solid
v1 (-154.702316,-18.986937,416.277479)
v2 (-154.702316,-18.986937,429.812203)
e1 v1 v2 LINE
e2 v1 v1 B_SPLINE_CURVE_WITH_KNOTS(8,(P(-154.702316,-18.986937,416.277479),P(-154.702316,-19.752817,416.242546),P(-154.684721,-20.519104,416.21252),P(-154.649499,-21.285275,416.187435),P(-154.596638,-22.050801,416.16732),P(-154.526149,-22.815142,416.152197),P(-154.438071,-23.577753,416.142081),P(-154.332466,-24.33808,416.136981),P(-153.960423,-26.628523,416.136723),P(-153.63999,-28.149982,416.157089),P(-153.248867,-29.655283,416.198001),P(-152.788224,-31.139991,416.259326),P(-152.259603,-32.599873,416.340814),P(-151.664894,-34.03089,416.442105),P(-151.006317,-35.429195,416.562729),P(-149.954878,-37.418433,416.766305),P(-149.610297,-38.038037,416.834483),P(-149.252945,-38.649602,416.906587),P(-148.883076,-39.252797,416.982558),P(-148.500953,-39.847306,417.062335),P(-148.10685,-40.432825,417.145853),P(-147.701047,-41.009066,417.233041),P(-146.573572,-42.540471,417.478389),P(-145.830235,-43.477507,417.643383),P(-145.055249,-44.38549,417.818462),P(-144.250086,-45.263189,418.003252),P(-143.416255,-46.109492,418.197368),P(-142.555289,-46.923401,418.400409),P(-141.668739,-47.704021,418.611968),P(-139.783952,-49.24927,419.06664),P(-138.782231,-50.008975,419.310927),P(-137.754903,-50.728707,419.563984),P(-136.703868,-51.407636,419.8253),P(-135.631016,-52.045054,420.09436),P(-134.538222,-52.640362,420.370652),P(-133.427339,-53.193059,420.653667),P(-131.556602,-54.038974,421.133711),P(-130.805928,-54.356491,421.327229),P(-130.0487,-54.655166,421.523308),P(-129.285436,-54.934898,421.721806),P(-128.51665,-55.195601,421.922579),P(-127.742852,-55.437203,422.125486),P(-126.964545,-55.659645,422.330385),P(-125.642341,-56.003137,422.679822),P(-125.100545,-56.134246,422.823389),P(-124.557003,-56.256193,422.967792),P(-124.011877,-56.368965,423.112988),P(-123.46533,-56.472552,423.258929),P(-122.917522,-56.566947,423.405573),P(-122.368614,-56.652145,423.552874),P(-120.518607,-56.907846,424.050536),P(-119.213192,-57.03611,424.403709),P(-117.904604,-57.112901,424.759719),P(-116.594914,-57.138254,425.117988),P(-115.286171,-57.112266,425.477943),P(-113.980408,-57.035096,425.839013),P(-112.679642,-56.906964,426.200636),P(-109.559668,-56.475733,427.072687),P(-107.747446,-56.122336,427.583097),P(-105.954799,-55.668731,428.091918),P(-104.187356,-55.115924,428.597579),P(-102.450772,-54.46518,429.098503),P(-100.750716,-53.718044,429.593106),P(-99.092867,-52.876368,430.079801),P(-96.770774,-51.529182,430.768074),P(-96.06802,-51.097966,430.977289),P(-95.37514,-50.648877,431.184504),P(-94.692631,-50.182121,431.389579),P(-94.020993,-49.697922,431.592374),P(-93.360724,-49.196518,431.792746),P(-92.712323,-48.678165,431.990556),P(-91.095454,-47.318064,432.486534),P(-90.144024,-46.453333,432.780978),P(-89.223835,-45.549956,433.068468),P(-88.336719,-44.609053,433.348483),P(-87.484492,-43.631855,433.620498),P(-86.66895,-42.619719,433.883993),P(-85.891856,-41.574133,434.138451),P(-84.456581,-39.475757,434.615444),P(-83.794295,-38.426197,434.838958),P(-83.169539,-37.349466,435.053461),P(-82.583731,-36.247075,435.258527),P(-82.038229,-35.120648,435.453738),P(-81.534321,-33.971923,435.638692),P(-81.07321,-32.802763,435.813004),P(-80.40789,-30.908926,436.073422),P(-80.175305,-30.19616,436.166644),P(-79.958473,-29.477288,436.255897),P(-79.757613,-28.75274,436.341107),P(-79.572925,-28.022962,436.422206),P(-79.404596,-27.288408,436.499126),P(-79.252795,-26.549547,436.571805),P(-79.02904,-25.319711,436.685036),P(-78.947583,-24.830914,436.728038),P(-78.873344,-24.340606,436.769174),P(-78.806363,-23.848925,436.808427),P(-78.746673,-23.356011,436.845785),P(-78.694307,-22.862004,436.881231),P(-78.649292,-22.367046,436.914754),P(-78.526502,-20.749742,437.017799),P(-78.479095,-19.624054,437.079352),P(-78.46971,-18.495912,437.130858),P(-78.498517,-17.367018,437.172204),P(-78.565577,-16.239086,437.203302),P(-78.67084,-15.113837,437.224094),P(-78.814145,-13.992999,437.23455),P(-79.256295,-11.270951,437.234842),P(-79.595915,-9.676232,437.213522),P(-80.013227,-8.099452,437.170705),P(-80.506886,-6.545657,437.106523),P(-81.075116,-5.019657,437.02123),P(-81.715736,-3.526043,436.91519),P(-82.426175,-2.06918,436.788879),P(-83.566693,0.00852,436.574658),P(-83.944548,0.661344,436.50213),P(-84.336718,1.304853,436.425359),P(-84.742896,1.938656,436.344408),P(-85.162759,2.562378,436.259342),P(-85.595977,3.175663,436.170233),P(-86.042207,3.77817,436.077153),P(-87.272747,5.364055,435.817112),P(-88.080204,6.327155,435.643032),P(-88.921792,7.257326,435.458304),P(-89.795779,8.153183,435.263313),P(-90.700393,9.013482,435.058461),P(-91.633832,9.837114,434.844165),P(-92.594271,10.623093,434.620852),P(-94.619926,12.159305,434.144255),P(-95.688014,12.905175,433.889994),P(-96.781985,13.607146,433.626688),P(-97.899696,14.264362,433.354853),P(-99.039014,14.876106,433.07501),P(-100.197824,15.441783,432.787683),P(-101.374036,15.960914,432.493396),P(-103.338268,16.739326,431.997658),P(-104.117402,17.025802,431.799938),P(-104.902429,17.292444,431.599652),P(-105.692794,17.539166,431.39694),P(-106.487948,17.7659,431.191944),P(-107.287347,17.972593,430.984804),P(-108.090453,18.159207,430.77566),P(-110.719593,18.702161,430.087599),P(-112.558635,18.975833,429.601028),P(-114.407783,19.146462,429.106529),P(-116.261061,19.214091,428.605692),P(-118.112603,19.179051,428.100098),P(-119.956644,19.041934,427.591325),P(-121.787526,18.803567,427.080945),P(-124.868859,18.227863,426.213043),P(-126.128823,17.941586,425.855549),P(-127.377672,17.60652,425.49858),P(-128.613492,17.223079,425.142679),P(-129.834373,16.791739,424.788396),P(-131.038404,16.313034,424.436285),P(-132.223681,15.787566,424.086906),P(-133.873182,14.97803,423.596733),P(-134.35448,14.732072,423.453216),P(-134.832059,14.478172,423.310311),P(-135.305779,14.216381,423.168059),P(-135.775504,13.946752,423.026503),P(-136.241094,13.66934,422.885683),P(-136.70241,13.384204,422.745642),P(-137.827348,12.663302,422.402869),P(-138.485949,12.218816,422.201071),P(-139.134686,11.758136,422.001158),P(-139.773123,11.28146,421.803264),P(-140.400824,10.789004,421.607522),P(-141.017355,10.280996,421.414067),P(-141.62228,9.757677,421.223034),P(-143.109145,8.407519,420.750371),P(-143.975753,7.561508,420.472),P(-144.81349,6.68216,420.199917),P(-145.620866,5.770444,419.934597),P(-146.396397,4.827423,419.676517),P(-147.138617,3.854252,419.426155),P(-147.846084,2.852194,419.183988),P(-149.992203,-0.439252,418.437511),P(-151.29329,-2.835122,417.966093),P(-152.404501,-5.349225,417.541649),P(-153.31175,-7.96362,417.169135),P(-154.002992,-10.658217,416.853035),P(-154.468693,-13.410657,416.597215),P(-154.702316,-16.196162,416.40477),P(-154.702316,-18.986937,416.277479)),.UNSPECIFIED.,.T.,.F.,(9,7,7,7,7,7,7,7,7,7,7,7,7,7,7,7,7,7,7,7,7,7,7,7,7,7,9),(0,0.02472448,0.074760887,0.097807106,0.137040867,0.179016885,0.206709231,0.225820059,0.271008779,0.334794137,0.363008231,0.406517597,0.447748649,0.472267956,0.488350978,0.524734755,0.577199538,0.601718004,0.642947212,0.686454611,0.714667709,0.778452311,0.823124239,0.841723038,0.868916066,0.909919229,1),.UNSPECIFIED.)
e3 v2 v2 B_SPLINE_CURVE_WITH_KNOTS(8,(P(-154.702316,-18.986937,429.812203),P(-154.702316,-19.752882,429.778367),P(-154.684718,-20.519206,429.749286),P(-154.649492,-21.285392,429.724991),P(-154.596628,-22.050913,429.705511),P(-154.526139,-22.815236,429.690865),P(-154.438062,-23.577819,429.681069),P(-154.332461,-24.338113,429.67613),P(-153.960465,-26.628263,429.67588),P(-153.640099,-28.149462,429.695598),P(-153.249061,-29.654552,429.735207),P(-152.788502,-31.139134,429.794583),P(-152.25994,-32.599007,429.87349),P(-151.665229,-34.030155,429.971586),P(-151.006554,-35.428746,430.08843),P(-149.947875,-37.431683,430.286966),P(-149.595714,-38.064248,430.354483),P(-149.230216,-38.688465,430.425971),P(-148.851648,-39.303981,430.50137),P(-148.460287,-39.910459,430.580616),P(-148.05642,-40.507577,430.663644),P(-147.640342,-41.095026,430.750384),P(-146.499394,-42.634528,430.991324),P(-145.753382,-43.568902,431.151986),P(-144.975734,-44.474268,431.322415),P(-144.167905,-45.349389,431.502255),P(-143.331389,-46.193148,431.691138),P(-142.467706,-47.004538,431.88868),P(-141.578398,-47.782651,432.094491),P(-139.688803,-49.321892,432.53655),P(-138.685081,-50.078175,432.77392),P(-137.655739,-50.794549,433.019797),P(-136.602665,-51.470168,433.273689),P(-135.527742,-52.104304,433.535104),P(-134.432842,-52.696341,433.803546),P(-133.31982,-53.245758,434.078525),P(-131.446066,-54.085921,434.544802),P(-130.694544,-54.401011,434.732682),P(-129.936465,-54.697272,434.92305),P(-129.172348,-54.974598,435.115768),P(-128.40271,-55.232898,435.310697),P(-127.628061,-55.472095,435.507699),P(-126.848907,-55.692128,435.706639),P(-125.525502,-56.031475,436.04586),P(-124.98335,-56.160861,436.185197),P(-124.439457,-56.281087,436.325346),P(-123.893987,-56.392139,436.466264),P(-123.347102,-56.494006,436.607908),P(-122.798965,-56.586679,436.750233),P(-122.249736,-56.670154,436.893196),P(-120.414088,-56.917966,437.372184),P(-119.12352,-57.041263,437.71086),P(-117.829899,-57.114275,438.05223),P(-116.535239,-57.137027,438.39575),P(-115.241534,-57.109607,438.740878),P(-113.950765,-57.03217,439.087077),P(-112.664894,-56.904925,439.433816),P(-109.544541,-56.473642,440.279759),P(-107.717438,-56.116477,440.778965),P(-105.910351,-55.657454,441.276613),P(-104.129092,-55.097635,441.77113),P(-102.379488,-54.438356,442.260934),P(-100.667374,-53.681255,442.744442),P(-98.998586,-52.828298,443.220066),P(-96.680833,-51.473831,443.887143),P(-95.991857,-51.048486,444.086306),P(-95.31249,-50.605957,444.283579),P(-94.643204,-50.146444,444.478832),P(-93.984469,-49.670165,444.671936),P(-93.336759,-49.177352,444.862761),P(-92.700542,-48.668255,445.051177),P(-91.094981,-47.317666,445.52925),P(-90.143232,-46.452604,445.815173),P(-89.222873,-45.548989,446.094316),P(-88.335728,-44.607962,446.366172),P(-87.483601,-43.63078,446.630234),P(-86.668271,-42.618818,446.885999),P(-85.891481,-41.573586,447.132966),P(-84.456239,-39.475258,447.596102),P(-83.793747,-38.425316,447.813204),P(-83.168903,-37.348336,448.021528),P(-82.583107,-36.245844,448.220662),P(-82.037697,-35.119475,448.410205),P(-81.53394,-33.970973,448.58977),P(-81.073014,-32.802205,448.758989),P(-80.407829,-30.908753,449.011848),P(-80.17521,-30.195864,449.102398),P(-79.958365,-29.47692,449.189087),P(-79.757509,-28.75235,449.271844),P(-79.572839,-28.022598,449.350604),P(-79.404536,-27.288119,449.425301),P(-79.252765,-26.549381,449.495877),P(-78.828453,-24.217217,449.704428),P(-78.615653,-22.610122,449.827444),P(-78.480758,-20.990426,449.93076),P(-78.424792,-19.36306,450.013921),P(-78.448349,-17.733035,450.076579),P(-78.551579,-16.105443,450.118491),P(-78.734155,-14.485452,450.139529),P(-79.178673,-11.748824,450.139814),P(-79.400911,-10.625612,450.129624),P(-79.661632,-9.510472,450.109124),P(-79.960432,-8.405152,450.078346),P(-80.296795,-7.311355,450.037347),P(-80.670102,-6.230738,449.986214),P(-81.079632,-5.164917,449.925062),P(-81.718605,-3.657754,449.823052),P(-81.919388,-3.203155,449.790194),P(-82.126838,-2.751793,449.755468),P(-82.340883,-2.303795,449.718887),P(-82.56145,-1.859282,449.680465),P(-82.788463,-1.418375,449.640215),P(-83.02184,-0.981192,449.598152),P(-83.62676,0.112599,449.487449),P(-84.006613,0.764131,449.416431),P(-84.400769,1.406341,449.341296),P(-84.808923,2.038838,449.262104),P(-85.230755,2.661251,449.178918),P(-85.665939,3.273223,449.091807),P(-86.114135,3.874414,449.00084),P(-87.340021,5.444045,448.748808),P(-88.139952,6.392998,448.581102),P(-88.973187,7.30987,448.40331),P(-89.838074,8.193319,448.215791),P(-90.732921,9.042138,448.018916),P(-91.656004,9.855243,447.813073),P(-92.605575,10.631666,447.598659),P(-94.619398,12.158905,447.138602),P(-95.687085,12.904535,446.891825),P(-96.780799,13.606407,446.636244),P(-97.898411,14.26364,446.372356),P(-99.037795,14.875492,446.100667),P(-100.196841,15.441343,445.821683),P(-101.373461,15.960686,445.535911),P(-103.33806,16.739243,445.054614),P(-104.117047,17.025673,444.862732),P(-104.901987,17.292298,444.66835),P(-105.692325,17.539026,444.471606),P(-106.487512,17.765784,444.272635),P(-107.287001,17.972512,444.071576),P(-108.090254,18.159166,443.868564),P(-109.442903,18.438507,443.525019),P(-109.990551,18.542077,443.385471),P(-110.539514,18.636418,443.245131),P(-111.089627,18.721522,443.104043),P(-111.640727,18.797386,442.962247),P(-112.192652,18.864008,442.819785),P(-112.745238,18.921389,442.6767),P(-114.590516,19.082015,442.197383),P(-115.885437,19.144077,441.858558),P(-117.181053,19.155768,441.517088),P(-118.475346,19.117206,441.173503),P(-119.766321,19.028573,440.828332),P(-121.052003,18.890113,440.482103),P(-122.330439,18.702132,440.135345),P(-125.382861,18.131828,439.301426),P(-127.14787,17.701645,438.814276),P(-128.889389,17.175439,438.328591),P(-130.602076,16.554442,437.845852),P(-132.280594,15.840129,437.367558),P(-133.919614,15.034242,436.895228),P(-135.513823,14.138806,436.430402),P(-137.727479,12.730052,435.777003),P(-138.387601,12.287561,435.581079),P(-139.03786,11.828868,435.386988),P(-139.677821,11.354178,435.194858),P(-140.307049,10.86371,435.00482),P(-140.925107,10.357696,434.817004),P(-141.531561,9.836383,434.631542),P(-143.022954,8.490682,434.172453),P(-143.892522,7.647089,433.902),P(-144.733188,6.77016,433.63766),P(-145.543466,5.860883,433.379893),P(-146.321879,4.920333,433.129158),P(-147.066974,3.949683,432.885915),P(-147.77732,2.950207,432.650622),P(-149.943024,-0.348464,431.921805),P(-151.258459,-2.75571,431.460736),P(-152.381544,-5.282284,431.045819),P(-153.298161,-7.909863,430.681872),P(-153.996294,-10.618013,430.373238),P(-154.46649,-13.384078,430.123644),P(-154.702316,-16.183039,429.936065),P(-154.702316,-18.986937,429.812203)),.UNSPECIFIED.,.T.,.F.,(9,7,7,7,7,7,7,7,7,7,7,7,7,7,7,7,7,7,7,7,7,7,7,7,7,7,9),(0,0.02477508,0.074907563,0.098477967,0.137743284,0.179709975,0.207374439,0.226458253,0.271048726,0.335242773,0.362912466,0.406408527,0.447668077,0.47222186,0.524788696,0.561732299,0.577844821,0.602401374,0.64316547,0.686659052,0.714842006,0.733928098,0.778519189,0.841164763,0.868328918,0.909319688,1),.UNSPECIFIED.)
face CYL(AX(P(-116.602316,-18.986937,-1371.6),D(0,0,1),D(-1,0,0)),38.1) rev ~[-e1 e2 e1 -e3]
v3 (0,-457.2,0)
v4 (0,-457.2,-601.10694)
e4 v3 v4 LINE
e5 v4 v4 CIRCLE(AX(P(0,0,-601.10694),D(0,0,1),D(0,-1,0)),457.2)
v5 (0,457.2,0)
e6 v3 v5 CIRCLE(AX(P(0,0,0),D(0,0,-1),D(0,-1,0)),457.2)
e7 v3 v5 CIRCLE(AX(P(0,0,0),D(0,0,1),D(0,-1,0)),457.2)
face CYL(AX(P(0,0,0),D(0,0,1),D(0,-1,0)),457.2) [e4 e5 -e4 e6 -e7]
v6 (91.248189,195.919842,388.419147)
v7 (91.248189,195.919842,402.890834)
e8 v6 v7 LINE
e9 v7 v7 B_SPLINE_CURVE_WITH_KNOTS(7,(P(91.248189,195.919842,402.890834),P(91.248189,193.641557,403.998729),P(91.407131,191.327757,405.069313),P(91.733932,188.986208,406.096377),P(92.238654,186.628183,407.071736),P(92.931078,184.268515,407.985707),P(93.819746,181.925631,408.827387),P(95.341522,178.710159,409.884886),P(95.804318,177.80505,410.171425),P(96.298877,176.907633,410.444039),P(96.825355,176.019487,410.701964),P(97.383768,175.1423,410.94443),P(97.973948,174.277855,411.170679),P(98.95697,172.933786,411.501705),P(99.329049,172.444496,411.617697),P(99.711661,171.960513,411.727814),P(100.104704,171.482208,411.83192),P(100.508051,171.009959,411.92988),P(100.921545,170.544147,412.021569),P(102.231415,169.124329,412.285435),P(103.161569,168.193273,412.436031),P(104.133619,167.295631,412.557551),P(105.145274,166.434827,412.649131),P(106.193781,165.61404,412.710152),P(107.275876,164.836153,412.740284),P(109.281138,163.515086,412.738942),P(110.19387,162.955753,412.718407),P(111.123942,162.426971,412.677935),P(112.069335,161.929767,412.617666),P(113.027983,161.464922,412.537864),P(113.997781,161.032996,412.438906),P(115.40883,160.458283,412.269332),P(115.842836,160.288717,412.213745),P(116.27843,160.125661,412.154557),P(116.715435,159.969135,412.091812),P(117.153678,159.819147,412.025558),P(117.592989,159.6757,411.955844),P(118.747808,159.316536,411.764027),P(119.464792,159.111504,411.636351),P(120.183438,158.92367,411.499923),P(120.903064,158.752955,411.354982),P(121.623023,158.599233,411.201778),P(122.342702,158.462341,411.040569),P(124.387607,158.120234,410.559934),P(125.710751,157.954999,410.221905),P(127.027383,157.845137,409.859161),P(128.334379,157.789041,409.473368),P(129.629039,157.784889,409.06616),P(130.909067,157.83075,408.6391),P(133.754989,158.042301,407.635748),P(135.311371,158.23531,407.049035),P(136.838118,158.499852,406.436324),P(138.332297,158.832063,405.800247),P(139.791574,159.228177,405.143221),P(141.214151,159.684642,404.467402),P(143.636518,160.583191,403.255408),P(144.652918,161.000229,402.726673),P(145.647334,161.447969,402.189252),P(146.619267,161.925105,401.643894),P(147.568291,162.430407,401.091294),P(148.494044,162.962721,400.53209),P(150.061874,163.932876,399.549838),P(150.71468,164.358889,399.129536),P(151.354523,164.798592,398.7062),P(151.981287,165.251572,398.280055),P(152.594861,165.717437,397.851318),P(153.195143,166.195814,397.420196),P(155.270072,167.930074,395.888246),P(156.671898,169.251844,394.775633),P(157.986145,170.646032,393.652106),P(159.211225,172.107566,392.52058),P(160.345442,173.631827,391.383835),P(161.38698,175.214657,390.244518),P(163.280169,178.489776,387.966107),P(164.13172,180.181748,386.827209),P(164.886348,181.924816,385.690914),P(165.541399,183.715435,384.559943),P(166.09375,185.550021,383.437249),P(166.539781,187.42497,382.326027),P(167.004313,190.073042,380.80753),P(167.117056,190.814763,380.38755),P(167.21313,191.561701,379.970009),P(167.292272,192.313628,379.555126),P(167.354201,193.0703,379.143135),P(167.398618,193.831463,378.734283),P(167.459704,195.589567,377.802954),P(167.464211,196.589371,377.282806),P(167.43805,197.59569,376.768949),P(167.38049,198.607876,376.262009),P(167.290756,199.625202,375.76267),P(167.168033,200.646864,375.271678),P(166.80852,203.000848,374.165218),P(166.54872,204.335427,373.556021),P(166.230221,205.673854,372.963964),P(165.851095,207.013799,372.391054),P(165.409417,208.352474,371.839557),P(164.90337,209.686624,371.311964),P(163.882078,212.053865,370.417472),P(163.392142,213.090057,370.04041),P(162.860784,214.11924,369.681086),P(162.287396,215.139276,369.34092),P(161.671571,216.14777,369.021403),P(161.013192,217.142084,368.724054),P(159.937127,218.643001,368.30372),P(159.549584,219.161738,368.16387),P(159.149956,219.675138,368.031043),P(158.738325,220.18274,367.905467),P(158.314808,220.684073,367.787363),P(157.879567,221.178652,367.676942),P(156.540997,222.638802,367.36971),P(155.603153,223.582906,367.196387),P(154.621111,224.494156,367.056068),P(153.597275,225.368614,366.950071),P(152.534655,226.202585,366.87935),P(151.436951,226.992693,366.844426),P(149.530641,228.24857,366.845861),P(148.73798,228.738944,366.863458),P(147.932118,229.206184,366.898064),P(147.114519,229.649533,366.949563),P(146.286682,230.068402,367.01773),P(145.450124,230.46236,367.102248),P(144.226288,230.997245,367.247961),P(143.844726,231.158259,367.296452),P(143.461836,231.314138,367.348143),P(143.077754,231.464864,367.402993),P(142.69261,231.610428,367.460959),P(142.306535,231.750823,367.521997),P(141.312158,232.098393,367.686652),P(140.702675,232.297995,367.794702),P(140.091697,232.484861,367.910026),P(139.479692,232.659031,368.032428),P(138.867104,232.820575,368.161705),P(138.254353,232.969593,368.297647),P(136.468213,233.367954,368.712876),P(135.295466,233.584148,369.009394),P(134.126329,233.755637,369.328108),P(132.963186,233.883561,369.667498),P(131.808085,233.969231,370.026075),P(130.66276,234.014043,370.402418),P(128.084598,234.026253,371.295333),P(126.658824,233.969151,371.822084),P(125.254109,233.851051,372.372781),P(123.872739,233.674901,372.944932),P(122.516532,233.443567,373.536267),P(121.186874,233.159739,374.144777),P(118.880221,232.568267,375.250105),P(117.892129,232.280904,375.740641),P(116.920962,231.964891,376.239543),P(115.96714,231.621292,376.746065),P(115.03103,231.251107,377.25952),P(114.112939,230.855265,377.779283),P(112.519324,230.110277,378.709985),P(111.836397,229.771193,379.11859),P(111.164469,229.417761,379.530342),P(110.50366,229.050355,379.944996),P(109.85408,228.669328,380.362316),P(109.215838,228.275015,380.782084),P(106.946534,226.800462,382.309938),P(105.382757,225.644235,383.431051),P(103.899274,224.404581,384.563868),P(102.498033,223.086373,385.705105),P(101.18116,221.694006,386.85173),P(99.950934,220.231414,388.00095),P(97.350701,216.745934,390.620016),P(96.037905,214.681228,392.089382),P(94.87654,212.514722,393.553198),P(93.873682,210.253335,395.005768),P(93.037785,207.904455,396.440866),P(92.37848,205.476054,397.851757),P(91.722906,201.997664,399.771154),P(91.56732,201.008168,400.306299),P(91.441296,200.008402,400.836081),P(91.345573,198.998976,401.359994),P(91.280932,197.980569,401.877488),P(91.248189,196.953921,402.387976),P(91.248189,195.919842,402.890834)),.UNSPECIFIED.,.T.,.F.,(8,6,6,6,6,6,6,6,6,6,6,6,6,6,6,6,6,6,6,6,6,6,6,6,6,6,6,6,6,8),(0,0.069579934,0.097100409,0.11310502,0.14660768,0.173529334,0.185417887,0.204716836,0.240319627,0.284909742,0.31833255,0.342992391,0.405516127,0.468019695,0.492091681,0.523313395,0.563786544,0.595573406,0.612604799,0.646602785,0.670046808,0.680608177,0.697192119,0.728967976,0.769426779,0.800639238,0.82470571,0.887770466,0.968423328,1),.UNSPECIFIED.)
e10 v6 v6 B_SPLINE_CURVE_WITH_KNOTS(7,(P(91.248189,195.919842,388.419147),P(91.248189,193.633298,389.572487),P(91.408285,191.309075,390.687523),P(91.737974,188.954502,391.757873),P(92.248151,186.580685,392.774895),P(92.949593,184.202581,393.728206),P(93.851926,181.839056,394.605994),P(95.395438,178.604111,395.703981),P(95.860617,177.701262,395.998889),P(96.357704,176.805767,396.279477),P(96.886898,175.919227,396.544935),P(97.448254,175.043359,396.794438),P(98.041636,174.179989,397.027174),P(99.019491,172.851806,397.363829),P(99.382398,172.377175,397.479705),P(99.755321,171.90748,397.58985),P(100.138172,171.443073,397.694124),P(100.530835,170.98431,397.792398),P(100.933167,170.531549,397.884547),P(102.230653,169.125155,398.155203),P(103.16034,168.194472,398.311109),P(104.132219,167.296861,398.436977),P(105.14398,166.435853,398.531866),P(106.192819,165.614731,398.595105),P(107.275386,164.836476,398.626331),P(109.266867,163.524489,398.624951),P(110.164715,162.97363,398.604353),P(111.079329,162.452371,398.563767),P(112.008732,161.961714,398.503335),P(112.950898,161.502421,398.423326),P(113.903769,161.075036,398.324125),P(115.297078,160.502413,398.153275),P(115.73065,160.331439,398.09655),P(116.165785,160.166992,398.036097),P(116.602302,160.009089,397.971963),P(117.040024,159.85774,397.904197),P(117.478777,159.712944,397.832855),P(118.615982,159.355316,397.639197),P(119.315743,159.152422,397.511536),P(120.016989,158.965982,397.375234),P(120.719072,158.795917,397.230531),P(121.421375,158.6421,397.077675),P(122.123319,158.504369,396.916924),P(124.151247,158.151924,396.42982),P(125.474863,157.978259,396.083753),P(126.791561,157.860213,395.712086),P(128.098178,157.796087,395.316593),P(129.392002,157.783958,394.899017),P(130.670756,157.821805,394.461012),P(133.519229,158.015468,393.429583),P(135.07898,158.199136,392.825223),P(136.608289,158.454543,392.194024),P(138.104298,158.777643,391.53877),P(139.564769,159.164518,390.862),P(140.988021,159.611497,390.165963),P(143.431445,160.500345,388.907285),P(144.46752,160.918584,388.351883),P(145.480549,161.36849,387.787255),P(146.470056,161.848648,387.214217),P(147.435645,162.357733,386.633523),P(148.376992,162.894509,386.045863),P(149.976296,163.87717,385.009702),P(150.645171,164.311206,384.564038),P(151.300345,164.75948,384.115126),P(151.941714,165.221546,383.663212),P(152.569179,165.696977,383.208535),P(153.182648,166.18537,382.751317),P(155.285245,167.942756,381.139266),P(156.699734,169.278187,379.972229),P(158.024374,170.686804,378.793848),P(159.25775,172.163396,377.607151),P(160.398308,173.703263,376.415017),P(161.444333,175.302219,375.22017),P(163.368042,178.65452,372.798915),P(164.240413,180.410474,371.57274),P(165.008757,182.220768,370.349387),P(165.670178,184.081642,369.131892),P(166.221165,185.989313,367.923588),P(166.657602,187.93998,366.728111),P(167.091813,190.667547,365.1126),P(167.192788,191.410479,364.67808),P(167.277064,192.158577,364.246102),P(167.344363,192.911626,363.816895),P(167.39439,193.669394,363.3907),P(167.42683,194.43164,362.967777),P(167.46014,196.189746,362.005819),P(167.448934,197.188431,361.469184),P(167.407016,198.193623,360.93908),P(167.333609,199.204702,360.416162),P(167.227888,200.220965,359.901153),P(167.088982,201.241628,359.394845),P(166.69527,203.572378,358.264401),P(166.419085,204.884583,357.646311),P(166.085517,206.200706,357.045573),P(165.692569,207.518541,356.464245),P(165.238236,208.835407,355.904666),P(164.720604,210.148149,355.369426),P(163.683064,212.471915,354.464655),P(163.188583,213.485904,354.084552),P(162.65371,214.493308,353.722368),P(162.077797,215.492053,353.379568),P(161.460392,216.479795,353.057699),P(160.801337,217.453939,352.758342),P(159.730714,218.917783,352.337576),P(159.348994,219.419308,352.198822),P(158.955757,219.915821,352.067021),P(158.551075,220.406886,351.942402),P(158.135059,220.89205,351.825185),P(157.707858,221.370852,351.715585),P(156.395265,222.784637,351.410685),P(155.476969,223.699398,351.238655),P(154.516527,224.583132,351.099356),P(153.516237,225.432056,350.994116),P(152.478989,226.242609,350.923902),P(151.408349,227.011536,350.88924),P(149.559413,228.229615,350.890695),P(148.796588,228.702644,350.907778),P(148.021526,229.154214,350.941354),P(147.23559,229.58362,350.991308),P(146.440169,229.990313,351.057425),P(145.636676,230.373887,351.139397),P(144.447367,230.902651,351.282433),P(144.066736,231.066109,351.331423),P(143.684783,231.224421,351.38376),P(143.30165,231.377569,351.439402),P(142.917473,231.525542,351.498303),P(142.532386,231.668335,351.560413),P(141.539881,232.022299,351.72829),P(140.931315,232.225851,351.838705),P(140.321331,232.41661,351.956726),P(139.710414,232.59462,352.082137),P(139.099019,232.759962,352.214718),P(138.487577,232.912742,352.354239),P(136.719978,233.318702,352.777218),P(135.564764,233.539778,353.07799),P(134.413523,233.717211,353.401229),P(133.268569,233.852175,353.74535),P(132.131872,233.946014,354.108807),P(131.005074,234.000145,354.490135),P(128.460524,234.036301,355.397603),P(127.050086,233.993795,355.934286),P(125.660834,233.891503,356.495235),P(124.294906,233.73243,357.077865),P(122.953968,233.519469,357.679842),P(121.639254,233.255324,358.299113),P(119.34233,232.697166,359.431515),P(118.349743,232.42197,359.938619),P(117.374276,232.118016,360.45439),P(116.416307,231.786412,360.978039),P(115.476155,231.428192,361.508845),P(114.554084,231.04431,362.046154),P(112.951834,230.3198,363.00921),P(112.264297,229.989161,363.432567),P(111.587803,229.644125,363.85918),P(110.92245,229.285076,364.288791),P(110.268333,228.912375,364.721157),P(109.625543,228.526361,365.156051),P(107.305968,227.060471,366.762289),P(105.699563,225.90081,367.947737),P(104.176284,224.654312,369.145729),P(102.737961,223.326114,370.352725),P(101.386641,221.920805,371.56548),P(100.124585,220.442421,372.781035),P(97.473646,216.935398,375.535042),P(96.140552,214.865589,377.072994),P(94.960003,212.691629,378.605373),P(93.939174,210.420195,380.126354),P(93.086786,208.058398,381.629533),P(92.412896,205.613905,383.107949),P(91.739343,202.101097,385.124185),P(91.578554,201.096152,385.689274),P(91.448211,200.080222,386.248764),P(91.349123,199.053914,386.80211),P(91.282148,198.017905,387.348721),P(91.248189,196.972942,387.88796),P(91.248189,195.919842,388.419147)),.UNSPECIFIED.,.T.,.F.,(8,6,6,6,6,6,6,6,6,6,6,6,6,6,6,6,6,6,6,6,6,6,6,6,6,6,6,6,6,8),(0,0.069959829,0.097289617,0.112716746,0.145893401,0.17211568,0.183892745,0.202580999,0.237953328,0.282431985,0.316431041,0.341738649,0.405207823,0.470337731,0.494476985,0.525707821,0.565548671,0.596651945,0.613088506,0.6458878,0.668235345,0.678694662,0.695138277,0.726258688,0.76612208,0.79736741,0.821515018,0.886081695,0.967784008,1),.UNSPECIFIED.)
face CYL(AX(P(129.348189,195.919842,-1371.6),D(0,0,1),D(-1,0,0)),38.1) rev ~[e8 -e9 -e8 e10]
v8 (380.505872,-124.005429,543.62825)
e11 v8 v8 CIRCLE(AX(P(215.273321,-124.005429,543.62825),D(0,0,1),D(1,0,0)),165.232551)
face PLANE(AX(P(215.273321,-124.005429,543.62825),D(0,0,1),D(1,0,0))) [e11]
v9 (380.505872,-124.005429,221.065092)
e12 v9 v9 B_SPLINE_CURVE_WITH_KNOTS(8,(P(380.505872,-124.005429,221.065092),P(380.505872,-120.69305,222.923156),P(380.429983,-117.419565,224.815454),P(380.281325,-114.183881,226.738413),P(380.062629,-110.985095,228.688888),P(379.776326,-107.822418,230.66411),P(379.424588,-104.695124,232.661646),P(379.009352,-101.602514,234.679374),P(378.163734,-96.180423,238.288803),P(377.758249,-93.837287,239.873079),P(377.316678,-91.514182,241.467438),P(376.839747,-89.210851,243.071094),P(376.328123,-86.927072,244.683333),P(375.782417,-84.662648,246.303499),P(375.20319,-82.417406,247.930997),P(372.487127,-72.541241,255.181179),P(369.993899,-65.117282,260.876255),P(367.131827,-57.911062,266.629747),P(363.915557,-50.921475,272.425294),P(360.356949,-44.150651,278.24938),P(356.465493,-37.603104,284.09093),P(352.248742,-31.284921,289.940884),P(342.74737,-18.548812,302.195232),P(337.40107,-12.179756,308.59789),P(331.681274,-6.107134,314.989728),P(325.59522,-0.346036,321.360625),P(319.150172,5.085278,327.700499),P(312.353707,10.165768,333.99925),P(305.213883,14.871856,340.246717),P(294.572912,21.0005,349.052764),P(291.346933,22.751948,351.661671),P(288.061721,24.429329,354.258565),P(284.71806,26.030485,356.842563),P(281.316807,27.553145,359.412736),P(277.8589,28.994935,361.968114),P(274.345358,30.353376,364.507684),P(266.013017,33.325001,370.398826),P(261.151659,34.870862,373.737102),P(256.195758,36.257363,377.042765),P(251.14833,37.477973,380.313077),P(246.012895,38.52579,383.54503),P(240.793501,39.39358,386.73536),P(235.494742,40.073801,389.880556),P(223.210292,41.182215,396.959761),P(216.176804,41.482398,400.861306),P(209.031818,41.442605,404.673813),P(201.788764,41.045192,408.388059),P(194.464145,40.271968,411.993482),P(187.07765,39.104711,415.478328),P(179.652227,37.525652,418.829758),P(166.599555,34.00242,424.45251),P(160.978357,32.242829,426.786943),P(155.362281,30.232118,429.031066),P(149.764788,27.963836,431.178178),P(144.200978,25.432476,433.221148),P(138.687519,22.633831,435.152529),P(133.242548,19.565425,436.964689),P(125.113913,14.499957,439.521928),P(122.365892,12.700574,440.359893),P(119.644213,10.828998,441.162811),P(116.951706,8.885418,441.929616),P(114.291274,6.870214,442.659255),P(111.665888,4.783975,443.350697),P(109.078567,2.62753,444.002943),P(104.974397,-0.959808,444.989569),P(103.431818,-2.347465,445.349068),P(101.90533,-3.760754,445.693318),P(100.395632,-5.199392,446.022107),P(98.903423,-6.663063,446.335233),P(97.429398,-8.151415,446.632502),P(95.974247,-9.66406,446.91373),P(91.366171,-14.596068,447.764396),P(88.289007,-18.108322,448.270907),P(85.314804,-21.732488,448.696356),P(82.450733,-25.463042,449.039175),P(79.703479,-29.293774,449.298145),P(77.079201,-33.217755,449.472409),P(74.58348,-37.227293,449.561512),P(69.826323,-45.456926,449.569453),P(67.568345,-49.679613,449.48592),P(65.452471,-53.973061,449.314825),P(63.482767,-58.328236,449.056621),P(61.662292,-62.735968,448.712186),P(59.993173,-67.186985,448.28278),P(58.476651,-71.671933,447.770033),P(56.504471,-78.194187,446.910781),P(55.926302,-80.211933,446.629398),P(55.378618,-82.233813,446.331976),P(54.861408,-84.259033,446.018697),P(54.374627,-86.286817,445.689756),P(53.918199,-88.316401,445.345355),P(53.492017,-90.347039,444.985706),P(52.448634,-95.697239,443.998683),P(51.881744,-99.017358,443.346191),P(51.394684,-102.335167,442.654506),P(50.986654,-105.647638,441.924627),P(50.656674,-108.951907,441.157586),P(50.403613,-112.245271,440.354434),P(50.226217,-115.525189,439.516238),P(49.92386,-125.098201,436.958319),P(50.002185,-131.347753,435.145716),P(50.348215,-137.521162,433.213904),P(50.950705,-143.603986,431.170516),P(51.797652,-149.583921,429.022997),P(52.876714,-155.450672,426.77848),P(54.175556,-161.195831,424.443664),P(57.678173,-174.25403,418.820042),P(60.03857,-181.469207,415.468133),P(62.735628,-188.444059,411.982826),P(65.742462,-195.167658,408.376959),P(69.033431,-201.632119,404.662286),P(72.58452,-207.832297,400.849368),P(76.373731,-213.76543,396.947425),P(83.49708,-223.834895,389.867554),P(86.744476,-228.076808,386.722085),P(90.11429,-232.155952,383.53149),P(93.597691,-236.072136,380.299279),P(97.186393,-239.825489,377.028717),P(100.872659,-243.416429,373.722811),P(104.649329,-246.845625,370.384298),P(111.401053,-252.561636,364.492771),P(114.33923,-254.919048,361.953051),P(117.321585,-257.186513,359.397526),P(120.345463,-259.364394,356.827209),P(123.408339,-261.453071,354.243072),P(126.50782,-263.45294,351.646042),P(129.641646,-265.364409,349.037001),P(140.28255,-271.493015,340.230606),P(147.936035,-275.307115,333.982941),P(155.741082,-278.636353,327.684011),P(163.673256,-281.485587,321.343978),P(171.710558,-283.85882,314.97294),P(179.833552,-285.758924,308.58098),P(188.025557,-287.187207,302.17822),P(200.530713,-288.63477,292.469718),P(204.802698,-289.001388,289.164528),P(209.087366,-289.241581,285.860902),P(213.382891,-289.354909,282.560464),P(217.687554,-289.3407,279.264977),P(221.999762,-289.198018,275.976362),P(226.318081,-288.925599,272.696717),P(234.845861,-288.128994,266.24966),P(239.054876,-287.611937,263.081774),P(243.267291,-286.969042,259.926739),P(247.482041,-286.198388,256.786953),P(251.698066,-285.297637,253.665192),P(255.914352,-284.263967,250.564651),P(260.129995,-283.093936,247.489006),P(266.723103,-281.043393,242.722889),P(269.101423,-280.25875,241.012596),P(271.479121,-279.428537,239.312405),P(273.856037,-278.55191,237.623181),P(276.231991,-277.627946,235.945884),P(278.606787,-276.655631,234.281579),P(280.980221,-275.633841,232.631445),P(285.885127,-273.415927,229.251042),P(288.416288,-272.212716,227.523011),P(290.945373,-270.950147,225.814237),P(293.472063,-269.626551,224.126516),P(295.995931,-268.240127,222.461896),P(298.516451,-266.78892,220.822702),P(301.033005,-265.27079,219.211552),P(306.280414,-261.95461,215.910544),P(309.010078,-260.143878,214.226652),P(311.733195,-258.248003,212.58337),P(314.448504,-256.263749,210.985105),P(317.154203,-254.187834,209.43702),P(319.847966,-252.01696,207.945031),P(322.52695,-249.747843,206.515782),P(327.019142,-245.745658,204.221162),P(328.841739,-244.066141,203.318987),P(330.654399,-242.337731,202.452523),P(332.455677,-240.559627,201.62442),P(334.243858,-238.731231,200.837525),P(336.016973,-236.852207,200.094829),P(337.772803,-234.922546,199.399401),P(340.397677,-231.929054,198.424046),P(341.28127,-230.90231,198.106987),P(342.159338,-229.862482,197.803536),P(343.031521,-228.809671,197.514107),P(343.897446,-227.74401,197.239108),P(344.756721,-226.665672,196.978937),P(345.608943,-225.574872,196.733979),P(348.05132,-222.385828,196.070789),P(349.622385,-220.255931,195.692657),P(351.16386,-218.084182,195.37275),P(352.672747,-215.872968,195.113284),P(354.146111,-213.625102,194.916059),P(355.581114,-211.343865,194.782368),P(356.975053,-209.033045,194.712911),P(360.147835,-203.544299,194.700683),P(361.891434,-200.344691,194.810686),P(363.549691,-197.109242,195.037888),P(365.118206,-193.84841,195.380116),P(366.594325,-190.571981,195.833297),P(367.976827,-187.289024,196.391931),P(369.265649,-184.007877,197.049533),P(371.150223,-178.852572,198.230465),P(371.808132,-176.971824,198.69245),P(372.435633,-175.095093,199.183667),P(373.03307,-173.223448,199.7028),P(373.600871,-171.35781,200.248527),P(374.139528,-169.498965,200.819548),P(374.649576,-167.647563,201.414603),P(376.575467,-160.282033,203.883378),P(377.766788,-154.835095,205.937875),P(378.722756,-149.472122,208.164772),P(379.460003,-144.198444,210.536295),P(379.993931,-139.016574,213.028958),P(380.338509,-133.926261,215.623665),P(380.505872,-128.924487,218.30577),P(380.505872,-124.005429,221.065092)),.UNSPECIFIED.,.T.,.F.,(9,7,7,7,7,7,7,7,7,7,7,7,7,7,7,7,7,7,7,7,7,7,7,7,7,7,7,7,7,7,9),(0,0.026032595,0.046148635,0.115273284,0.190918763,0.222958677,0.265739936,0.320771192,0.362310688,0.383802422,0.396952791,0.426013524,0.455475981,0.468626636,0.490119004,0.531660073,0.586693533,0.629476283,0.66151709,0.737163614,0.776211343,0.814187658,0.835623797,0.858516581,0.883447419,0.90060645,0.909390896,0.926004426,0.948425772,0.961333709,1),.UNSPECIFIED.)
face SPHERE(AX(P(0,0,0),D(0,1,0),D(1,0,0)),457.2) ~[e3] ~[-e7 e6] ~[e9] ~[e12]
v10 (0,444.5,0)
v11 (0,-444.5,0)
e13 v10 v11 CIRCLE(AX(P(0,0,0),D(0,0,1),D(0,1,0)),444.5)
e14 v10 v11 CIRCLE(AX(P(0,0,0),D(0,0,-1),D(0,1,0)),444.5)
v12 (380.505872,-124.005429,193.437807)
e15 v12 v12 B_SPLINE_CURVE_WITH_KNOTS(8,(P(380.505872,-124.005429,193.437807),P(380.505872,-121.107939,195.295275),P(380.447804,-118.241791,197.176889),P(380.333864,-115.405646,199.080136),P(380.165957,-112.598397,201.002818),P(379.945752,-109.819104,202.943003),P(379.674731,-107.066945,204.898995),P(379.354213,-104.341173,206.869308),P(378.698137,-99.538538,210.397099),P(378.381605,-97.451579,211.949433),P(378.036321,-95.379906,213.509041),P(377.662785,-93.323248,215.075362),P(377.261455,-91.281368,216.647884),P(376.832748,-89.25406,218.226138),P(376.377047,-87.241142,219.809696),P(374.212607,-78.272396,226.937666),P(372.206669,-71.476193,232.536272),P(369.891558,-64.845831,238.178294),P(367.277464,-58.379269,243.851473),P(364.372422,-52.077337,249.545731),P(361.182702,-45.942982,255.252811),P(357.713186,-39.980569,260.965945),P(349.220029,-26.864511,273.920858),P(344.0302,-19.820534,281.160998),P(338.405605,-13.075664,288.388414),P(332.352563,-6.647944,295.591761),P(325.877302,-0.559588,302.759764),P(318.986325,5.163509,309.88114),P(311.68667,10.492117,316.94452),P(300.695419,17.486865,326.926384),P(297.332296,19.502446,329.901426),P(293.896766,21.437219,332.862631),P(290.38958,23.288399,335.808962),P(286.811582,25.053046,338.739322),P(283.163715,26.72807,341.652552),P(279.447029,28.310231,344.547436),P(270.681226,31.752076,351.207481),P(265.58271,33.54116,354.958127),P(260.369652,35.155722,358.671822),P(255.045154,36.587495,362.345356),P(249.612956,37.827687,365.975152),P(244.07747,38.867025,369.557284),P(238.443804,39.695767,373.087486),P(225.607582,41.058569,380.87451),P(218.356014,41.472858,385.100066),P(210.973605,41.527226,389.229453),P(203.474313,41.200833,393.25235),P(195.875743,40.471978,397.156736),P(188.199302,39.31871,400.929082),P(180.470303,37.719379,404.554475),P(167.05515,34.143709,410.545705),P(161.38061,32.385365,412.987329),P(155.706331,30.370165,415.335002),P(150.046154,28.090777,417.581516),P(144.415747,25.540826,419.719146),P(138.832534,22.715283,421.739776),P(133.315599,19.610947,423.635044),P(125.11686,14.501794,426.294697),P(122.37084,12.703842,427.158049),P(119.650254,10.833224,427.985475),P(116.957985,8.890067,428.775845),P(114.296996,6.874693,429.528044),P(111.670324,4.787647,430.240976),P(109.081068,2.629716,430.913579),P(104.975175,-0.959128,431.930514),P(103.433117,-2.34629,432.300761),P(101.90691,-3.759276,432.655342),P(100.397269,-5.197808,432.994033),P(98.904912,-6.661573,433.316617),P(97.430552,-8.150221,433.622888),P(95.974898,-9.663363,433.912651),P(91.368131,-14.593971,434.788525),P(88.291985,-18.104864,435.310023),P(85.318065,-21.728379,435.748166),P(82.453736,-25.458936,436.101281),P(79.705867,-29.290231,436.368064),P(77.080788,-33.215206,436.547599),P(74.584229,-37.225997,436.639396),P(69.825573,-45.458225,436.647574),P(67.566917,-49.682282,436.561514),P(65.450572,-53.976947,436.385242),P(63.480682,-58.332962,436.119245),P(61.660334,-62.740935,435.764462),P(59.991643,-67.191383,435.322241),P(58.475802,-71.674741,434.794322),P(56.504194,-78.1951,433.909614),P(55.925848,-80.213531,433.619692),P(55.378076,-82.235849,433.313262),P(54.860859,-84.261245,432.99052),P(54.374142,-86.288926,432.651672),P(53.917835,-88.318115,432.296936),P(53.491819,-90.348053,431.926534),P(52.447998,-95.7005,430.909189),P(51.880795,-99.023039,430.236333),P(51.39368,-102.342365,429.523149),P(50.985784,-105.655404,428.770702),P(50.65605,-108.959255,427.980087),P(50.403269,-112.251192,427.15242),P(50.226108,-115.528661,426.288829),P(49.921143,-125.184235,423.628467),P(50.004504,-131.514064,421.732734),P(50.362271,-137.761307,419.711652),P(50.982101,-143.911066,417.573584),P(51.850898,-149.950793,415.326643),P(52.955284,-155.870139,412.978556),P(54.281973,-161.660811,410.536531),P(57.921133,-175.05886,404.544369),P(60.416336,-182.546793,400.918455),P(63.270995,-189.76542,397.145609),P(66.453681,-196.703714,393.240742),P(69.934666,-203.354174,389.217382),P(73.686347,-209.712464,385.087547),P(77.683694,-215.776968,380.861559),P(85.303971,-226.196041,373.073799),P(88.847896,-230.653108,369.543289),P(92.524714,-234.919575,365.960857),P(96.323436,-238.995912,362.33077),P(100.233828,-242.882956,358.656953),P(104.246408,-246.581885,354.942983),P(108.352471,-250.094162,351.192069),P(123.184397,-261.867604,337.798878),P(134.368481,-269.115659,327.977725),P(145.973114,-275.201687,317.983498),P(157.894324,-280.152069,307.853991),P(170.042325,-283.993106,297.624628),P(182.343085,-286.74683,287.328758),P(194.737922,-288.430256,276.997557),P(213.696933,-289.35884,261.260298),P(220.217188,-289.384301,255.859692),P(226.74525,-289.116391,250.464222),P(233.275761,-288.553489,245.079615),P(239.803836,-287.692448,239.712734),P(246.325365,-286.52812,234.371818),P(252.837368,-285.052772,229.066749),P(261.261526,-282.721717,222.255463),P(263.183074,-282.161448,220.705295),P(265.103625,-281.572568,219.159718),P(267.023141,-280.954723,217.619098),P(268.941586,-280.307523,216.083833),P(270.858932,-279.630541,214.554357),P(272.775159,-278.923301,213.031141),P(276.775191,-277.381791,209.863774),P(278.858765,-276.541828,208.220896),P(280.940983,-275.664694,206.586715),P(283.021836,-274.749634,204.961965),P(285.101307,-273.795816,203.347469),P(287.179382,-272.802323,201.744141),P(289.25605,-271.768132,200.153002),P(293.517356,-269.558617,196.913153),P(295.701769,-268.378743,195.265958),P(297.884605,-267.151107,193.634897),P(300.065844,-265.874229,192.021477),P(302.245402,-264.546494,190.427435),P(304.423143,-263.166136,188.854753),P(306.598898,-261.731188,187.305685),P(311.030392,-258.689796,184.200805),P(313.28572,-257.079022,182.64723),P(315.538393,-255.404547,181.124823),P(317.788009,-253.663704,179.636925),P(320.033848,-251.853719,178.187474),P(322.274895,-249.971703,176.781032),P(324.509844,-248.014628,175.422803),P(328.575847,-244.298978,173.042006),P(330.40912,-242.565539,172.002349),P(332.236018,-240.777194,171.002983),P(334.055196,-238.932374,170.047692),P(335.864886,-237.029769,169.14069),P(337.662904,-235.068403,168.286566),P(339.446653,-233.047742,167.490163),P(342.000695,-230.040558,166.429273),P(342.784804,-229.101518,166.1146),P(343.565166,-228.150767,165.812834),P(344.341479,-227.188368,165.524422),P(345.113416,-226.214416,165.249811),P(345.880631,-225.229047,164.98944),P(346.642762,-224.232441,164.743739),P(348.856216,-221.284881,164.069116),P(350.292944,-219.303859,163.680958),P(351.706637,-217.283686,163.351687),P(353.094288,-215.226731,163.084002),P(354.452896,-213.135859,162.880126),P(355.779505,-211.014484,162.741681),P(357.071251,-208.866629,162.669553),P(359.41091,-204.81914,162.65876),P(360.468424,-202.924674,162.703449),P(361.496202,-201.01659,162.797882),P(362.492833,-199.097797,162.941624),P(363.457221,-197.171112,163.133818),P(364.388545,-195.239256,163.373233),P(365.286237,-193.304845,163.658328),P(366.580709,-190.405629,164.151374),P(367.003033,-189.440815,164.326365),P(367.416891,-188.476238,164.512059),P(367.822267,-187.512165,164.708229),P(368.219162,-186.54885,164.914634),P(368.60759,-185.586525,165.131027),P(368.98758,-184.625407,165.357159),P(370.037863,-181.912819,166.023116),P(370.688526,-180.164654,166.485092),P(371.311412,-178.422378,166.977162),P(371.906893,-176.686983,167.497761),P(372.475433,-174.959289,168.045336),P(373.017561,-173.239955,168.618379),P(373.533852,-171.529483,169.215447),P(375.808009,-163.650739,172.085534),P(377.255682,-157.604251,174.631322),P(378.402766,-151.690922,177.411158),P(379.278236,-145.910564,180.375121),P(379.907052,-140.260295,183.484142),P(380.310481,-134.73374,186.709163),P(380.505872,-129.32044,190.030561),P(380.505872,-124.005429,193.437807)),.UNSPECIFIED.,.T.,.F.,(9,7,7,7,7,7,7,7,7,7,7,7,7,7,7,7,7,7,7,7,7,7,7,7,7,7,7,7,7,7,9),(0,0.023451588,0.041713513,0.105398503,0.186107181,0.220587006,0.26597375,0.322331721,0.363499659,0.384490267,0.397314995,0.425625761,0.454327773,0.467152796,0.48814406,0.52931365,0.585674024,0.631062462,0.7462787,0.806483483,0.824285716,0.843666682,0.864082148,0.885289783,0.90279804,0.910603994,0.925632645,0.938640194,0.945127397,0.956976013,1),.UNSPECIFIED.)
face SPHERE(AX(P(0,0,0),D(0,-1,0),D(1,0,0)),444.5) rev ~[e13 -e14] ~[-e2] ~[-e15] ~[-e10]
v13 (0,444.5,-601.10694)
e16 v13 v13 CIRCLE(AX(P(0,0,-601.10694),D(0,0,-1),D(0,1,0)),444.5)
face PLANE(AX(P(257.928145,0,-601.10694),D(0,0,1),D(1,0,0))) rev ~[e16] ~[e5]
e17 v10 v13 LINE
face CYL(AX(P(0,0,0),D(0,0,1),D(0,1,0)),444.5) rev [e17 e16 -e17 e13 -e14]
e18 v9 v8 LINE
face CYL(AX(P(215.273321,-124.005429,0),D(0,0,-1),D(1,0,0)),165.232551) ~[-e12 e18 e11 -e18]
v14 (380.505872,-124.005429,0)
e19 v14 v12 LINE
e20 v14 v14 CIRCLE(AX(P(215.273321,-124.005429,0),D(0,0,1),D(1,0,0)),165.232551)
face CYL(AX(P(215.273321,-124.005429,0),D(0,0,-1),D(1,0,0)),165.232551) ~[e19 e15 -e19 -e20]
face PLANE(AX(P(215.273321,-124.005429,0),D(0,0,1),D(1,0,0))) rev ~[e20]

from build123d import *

# Parameters (mm, degrees)
F1_ANGLE = 180
F3_D     = 76.2
F4_R     = 165.2325510481
F5_DEPTH = 543.62825
F6_DEPTH = 601.10694


with BuildPart() as f1:
    # F0 (on Top) → F1 (revolve)
    with BuildSketch(Plane.XY):
        with BuildLine():
            Line((0, -444.5), (0, -457.2))
            ThreePointArc((0, -457.2), (457.2, 0), (0, 457.2))
            Line((0, 457.2), (0, 444.5))
            ThreePointArc((0, 444.5), (444.5, 0), (0, -444.5))
        make_face()
    revolve(axis=Axis((0, 0, 0), (0, -1, 0)), revolution_arc=F1_ANGLE)

    # F3 (through all)
    with Locations(Plane(origin=(0, 0, 0), x_dir=(1, 0, 0), z_dir=(0, 0, -1))):
        with Locations((-116.6023164988, 18.9869366586), (129.3481886387, -195.9198415279), (215.2733206749, 124.0054294467)):
            Hole(F3_D / 2)

    # F4 (on Top) → F5 (join)
    with BuildSketch(Plane.XY):
        with Locations((215.2733206749, -124.0054294467)):
            Circle(F4_R)
    extrude(amount=F5_DEPTH)

    # F6 (add): a face of the model
    f6_faces = [f1.faces().sort_by_distance(p)[0] for p in [
        (445.7931568814, 0, 0),
    ]]
    extrude(f6_faces, amount=F6_DEPTH)


solid = f1.part
